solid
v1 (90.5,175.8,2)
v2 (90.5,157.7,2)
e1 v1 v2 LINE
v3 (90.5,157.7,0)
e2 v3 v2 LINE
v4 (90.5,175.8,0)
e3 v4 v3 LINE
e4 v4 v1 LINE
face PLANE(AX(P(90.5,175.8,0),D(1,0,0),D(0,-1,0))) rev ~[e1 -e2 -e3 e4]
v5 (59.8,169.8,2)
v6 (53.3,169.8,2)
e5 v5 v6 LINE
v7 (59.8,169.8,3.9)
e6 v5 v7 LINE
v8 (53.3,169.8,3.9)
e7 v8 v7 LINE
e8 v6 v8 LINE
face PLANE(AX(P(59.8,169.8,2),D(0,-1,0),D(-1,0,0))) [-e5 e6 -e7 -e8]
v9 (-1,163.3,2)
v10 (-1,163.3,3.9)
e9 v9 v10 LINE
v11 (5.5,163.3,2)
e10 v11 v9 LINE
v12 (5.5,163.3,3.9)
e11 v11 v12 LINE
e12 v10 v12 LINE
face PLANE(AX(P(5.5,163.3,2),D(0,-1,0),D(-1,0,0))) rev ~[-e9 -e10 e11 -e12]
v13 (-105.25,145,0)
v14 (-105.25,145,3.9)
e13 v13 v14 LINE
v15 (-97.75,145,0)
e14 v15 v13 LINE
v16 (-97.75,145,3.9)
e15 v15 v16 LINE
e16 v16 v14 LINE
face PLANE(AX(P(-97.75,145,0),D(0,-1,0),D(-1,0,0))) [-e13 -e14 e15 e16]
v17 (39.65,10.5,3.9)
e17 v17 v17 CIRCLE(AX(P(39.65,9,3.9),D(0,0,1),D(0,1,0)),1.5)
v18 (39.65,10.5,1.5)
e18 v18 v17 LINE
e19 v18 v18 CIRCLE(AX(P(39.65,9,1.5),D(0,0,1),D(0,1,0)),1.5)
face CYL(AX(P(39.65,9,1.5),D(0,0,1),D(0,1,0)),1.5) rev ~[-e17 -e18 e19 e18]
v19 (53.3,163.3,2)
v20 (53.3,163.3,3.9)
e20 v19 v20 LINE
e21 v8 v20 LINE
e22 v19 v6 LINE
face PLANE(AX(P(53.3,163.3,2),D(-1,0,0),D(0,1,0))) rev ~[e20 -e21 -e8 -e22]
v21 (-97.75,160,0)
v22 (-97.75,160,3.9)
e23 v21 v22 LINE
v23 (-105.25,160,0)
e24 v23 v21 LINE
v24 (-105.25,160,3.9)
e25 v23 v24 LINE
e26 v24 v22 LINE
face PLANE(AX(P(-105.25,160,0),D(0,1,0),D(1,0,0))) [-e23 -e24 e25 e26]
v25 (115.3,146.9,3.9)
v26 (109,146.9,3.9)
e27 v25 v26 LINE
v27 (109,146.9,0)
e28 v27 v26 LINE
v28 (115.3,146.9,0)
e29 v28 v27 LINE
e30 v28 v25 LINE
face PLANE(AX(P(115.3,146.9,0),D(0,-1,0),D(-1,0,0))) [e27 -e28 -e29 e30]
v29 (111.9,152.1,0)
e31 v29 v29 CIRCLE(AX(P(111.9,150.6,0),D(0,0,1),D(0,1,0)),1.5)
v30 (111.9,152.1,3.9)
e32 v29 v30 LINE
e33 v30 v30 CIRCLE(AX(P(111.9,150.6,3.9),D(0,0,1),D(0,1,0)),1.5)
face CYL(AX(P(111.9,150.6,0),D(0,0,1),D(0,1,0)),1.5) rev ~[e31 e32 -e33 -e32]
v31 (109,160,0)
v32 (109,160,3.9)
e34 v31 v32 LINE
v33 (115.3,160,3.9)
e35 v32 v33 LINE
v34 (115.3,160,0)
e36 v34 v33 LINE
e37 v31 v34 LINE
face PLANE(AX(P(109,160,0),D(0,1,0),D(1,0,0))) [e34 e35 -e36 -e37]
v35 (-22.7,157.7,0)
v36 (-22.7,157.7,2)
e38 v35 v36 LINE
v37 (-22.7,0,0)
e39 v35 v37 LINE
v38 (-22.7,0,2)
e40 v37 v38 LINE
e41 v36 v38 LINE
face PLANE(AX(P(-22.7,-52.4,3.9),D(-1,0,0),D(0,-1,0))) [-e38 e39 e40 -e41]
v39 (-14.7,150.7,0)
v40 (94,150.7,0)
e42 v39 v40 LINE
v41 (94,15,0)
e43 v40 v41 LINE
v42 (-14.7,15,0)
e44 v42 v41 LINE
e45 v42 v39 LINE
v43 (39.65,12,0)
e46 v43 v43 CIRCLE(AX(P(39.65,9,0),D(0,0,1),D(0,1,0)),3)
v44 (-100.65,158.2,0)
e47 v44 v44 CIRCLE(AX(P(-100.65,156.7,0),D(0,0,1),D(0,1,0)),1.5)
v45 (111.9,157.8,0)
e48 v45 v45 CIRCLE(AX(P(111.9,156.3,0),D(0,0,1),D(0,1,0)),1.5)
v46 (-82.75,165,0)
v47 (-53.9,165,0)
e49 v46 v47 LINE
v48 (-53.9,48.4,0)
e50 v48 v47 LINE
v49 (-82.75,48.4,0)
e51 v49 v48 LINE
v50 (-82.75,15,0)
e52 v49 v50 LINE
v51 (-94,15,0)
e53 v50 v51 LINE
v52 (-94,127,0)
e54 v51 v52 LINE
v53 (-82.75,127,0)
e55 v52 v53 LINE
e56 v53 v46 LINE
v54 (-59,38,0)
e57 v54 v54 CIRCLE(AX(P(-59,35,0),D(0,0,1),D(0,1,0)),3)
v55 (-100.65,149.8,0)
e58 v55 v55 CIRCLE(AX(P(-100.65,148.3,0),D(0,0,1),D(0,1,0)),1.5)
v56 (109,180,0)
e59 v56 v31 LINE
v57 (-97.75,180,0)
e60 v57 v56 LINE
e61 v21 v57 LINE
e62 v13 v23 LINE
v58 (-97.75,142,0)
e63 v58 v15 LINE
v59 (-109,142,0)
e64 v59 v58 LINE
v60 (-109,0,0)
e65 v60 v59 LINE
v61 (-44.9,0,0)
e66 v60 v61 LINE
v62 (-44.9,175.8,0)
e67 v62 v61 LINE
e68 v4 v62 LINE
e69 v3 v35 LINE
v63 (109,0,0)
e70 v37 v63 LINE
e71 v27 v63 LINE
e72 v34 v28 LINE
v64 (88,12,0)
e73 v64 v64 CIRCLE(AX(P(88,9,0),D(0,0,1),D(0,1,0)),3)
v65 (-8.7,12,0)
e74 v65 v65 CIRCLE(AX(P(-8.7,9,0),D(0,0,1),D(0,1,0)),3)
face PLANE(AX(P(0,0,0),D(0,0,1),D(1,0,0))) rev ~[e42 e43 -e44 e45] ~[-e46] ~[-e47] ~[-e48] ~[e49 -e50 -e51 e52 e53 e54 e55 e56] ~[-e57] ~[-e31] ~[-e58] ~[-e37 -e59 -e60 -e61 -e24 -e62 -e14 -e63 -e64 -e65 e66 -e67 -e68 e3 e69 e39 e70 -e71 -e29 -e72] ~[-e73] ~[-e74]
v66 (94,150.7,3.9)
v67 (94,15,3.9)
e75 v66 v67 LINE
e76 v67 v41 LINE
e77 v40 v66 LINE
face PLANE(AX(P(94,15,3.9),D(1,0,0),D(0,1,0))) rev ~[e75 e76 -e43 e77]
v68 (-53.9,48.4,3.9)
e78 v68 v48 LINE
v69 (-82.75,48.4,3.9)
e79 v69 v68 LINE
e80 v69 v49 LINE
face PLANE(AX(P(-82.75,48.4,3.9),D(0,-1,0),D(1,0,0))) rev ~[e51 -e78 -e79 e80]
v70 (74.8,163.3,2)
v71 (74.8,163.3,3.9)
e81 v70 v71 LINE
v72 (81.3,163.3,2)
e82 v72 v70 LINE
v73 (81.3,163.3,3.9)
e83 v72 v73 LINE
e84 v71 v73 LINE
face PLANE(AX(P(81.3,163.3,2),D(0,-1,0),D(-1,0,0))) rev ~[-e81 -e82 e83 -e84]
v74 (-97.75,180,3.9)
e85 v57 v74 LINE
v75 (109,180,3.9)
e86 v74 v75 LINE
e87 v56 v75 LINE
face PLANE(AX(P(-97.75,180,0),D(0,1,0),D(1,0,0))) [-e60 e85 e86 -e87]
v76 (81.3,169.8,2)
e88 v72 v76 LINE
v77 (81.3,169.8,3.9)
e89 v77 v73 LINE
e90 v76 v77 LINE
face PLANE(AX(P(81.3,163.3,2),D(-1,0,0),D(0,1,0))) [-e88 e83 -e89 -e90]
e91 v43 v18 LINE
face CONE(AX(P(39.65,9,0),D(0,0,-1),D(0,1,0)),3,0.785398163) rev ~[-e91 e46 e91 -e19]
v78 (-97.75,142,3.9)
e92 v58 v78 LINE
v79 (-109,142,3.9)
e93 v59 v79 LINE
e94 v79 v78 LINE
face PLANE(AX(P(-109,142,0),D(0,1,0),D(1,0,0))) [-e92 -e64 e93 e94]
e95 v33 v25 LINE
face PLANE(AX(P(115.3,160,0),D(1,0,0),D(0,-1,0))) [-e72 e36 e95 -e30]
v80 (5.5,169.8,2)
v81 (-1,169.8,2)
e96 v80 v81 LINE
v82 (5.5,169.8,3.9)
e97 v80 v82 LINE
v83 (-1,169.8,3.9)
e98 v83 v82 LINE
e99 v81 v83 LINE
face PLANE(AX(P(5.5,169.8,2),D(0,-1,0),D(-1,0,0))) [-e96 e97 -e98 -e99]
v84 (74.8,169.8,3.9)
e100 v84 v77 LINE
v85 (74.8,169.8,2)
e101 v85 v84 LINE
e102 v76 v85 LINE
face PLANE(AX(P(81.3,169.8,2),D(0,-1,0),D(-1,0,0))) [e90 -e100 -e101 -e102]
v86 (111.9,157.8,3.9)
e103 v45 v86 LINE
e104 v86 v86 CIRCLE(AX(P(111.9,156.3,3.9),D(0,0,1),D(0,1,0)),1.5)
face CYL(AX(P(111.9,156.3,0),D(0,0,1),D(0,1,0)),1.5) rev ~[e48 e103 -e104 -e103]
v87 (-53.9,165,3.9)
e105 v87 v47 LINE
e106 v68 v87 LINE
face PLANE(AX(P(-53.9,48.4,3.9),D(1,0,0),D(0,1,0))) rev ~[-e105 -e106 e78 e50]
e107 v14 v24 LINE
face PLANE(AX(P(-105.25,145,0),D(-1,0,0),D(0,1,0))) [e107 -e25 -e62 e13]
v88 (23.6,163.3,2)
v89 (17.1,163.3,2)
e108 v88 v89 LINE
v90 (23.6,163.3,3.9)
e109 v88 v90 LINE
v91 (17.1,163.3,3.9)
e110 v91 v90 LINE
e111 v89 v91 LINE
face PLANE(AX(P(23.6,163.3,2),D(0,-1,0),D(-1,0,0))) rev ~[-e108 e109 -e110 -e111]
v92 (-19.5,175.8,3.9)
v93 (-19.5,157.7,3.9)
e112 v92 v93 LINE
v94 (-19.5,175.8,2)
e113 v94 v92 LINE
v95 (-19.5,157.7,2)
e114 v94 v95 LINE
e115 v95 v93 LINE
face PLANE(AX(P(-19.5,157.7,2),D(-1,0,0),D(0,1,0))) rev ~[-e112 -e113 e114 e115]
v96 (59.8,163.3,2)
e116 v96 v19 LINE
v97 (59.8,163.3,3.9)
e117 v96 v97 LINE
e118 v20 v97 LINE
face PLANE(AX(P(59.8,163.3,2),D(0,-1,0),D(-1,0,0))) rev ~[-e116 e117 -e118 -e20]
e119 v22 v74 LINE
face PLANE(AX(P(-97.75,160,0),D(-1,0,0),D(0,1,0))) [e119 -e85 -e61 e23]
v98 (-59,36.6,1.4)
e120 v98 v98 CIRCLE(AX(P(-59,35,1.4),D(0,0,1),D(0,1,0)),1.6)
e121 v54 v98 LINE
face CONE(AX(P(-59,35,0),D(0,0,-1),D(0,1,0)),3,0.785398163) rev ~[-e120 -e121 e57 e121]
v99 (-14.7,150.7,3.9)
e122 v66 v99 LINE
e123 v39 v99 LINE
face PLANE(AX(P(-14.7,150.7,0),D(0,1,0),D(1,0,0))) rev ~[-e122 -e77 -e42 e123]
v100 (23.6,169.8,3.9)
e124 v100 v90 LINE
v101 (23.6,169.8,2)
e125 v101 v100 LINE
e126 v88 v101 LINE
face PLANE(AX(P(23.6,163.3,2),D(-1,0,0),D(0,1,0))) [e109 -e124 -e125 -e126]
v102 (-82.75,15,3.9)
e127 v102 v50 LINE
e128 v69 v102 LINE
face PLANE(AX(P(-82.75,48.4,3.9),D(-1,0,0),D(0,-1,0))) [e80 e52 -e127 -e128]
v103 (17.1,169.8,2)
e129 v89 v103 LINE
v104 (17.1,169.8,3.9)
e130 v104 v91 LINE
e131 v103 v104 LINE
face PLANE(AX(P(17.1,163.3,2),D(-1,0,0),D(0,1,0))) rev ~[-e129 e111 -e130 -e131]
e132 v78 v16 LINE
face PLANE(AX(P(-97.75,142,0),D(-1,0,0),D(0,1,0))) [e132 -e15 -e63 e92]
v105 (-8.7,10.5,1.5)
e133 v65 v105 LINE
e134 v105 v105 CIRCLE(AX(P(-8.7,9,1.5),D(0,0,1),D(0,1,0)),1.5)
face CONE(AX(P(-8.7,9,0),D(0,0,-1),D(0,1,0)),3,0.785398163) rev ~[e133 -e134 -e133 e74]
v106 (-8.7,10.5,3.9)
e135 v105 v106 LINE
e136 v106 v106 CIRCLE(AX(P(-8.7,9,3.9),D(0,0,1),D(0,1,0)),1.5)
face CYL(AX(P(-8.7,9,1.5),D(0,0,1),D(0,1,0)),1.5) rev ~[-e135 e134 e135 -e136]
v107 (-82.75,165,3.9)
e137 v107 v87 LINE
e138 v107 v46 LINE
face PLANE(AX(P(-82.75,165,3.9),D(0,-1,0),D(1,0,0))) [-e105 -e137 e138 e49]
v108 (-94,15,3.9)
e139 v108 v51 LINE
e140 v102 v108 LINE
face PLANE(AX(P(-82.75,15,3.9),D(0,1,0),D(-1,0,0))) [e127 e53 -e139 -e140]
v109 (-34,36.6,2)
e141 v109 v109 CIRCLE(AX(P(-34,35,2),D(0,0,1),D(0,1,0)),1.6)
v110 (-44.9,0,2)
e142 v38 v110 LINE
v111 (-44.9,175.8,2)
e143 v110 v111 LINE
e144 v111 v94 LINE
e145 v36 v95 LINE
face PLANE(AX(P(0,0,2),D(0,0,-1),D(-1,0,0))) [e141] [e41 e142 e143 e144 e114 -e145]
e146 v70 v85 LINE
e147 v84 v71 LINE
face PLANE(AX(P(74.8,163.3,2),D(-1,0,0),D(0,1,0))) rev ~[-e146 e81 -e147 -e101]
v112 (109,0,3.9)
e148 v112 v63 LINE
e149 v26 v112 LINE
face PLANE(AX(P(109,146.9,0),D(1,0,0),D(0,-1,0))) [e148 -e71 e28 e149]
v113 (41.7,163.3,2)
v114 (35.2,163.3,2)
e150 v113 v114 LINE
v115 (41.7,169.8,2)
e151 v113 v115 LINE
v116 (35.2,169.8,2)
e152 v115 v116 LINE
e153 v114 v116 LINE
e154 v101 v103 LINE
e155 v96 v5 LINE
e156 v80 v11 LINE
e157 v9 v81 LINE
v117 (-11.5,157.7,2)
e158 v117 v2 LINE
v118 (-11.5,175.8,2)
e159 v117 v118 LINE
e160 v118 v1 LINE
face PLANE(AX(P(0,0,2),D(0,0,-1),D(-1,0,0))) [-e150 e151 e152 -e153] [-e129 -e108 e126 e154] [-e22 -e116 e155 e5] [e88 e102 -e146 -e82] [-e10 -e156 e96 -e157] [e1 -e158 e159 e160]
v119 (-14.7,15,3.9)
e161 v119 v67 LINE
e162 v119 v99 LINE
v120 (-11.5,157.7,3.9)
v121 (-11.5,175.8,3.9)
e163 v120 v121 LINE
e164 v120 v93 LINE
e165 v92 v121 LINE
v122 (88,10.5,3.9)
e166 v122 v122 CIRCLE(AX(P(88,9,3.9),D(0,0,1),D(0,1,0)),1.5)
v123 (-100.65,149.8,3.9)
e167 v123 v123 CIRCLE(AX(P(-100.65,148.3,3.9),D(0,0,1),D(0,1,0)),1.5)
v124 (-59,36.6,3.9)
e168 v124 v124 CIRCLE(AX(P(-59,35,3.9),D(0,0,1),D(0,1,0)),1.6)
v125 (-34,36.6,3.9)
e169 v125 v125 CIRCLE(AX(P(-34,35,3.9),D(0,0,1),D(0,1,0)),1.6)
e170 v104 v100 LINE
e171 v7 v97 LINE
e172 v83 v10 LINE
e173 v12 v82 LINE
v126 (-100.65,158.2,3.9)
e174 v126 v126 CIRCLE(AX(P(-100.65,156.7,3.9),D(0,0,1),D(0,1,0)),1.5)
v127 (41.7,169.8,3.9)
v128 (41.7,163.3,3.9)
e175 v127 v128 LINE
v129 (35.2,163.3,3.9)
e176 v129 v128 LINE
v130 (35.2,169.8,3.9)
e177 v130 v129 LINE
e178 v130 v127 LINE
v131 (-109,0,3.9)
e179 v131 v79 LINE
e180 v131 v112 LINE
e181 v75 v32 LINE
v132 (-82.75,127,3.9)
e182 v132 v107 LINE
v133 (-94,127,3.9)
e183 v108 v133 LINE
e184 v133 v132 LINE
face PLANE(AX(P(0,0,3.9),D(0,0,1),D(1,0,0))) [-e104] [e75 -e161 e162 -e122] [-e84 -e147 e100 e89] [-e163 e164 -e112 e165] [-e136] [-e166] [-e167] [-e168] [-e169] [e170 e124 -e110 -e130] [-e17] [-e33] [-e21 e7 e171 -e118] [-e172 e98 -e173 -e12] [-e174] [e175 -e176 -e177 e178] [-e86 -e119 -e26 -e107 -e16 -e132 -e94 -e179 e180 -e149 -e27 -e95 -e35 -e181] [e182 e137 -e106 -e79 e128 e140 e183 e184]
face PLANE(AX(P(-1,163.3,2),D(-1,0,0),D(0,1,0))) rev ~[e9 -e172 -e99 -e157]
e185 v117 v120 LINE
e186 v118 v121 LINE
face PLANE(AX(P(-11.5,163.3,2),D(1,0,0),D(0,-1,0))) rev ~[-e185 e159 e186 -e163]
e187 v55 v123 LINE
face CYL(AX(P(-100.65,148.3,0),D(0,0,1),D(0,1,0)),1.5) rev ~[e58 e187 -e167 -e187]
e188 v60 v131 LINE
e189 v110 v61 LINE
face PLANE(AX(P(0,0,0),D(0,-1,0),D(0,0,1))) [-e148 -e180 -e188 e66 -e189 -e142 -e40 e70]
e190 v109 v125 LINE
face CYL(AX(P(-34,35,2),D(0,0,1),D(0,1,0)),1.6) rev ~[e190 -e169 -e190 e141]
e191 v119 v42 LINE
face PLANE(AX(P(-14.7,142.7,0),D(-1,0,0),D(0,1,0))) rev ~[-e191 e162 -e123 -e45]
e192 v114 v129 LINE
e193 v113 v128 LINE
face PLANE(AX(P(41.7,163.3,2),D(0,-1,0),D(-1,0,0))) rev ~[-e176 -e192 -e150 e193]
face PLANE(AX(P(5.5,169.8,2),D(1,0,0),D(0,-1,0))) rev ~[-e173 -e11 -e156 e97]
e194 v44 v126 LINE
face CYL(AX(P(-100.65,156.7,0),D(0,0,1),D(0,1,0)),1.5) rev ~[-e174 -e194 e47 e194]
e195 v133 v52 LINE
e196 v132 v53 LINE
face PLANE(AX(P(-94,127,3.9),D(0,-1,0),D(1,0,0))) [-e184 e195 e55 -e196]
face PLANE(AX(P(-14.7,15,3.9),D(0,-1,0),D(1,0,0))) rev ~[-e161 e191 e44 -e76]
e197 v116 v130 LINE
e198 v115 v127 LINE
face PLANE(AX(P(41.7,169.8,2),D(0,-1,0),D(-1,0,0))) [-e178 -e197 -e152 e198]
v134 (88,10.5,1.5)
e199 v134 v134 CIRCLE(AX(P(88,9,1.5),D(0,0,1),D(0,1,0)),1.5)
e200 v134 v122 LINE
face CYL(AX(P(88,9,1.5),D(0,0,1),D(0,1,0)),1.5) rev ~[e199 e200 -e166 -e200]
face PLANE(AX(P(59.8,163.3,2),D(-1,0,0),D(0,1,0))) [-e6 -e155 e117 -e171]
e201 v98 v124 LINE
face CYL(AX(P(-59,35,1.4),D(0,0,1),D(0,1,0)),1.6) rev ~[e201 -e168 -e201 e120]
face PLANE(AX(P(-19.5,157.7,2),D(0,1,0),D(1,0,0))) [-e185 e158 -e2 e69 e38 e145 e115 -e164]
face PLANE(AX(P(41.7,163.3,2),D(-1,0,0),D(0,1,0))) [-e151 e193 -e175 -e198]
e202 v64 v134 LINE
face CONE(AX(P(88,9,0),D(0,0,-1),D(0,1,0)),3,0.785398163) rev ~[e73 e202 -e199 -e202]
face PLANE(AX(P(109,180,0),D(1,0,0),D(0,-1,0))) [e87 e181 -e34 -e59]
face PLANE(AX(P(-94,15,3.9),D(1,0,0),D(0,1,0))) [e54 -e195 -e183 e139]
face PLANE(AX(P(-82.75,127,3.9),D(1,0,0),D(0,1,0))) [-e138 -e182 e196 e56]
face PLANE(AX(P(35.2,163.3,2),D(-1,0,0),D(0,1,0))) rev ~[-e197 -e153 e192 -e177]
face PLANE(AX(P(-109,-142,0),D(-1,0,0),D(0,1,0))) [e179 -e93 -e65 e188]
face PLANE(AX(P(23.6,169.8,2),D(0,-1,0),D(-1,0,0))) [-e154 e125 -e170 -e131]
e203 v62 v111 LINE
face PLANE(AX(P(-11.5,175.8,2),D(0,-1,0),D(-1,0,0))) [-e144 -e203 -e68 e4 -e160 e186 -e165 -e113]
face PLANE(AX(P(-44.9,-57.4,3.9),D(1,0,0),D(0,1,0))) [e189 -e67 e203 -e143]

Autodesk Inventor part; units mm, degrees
ref_plane "YZ Plane" through (0, 0, 0) normal (1, 0, 0) x (0, 1, 0)
ref_plane "XZ Plane" through (0, 0, 0) normal (0, 1, 0) x (-1, 0, 0)
ref_plane "XY Plane" through (0, 0, 0) normal (0, 0, 1) x (1, 0, 0)
ref_plane "Plano de trabajo1" through (0, 0, 0) normal (0, 0, 1) x (1, 0, 0)
sketch "Boceto1" plane through (0, 0, 0) normal (0, 0, 1) x (1, 0, 0)
  circle A0 centre (-100.65, -156.7) radius 1.65
  circle A1 centre (-100.65, -148.3) radius 1.65
  circle A2 centre (-100.65, 156.7) radius 1.65
  circle A3 centre (-100.65, 148.3) radius 1.65
  line L0 (-97.75, 145) -> (-105.25, 145)
  line L1 (-97.75, 142) -> (-97.75, 145)
  line L2 (-109, 142) -> (-97.75, 142)
  line L3 (-109, -142) -> (-109, 142)
  line L4 (-97.75, -142) -> (-109, -142)
  line L5 (-97.75, -145) -> (-97.75, -142)
  line L6 (-105.25, -145) -> (-97.75, -145)
  line L7 (-105.25, -160) -> (-105.25, -145)
  line L8 (-97.75, -160) -> (-105.25, -160)
  line L9 (-97.75, -180) -> (-97.75, -160)
  line L10 (109, -180) -> (-97.75, -180)
  line L11 (115.3, -160) -> (109, -160)
  line L12 (109, 146.9) -> (109, -146.9)
  line L13 (109, -146.9) -> (115.3, -146.9)
  line L14 (115.3, 146.9) -> (109, 146.9)
  line L15 (109, 180) -> (109, 160)
  line L16 (109, 160) -> (115.3, 160)
  line L17 (-97.75, 180) -> (109, 180)
  line L18 (-97.75, 160) -> (-97.75, 180)
  line L19 (-105.25, 160) -> (-97.75, 160)
  line L20 (-105.25, 145) -> (-105.25, 160)
  circle A4 centre (111.9, -156.3) radius 1.2
  circle A5 centre (111.9, -150.6) radius 1.2
  circle A6 centre (111.9, 156.3) radius 1.2
  circle A7 centre (111.9, 150.6) radius 1.2
  line L21 (115.3, -146.9) -> (115.3, -160)
  line L22 (115.3, 160) -> (115.3, 146.9)
  line L23 (109, -160) -> (109, -180)
  point P0 (0, 0)
extrude "Extrusión1" add sketch "Boceto1" along normal blind 3.9 contours A0 | A1 | A2 | A3 | L0 L20 L19 L18 L17 L15 L16 L22 L14 L12 L13 L21 L11 L23 L10 L9 L8 L7 L6 L5 L4 L3 L2 L1 | A4 | A5 | A6 | A7
sketch "Boceto3" plane through (0, 0, 0) normal (0, 0, -1) x (-1, 0, 0)
  line L0 (111, 180) -> (111, -185.2)
  line L1 (90.8, 170.8) -> (90.8, -176)
  line L2 (-99.7, -176) -> (-99.7, 170.8)
  line L3 (-117.3, 180) -> (-117.3, -185.2)
  line L4 (90.8, 170.8) -> (90.8, -176)
  line L5 (90.8, -176) -> (-99.7, -176)
  line L6 (-99.7, -176) -> (-99.7, 170.8)
  line L7 (-117.3, 180) -> (-117.3, -185.2)
  line L8 (109, -187.2) -> (-115.3, -187.2)
  line L9 (111, 180) -> (111, -185.2)
  circle A0 centre (-111.9, -150.6) radius 2.5
  circle A1 centre (100.65, -148.3) radius 2.5
  circle A2 centre (100.65, -156.7) radius 2.5
  circle A3 centre (-111.9, -156.3) radius 2.5
  arc A4 (-117.3, -185.2) -> (-115.3, -187.2) centre (-115.3, -185.2) ccw
  line L10 (109, -187.2) -> (-115.3, -187.2)
  arc A5 (109, -187.2) -> (111, -185.2) centre (109, -185.2) ccw
  circle A6 centre (-111.9, -150.6) radius 2.5
  circle A7 centre (-111.9, -156.3) radius 2.5
  arc A8 (-117.3, -185.2) -> (-115.3, -187.2) centre (-115.3, -185.2) ccw
  arc A9 (109, -187.2) -> (111, -185.2) centre (109, -185.2) ccw
  circle A10 centre (-111.9, 150.6) radius 2.5
  circle A11 centre (100.65, -156.7) radius 2.5
  circle A12 centre (100.65, 148.3) radius 2.5
  circle A13 centre (100.65, 156.7) radius 2.5
  circle A14 centre (100.65, -148.3) radius 2.5
  circle A15 centre (-111.9, 156.3) radius 2.5
  arc A16 (111, 180) -> (109, 182) centre (109, 180) ccw
  line L11 (109, 182) -> (-115.3, 182)
  arc A17 (-115.3, 182) -> (-117.3, 180) centre (-115.3, 180) ccw
  line L12 (-99.7, 170.8) -> (90.8, 170.8)
  line L13 (90.8, -176) -> (-99.7, -176)
  circle A18 centre (-111.9, 150.6) radius 2.5
  circle A19 centre (100.65, 148.3) radius 2.5
  circle A20 centre (100.65, 156.7) radius 2.5
  circle A21 centre (-111.9, 156.3) radius 2.5
  arc A22 (111, 180) -> (109, 182) centre (109, 180) ccw
  line L14 (109, 182) -> (-115.3, 182)
  arc A23 (-115.3, 182) -> (-117.3, 180) centre (-115.3, 180) ccw
  line L15 (-99.7, 170.8) -> (90.8, 170.8)
  point P0 (0, 0)
  point P1 (111, 0)
  point P2 (90.8, 0)
  point P3 (-99.7, 0)
  point P4 (-117.3, 0)
hole "Agujero1" at (-100.65, -148.3, 0) at (-100.65, -156.7, 0) at (111.9, -156.3, 0) at (111.9, -150.6, 0) at (-100.65, 156.7, 0) at (-100.65, 148.3, 0) at (111.9, 150.6, 0) at (111.9, 156.3, 0) direction (0, 0, 1) diameter 3 end through all
sketch "Boceto4" plane through (0, 0, 3.9) normal (0, 0, 1) x (1, 0, 0)
  line L0 (-59, -109.6) -> (-59, -139.7)
  line L1 (-59, -139.7) -> (-49.6, -139.7)
  line L2 (-49.6, -109.6) -> (-59, -109.6)
  line L3 (-59, -62.4) -> (-59, -169.5)
  line L4 (-3.9, -169.5) -> (-3.9, -62.4)
  line L5 (-3.9, -62.4) -> (-59, -62.4)
  line L6 (-59, -169.5) -> (-3.9, -169.5)
  line L7 (-49.6, -139.7) -> (-49.6, -109.6)
  point P0 (0, 0)
  point P1 (-3.9, -139.7)
  point P2 (-3.9, -109.6)
extrude "Extrusión2" cut sketch "Boceto4" against normal through all
sketch "Boceto5" plane through (0, 0, 3.9) normal (0, 0, 1) x (1, 0, 0)
  line L0 (-59, -62.4) -> (-3.9, -62.4)
  line L1 (-3.9, -62.4) -> (-3.9, -87.4)
  line L2 (-3.9, -109.6) -> (-3.9, -139.7)
  line L3 (-3.9, -87.4) -> (1.1, -87.4)
  line L4 (-3.9, -87.4) -> (1.1, -87.4) construction
  line L5 (1.1, -87.4) -> (1.1, -107.4)
  line L6 (1.1, -107.4) -> (-3.9, -107.4)
  line L7 (-3.9, -87.4) -> (-3.9, -107.4)
  point P0 (0, 0)
  point P1 (-3.9, -169.5)
  dimension "d11" = 25
  dimension "d12" = 5
  dimension "d13" = 0
  dimension "d14" = 20
extrude "Extrusión3" cut sketch "Boceto5" against normal blind 4
sketch "Boceto6" plane through (0, 0, 0) normal (0, 0, -1) x (-1, 0, 0)
  line L0 (-1.1, -87.4) -> (-1.1, -107.4)
  line L1 (-1.1, -87.4) -> (-61.1, -87.4)
  line L2 (-61.1, -87.4) -> (-61.1, -107.4)
  line L3 (-61.1, -107.4) -> (-1.1, -107.4)
  line L4 (-1.1, -107.4) -> (-1.1, -87.4)
  point P0 (0, 0)
  dimension "d17" = 60
extrude "Extrusión4" cut sketch "Boceto6" against normal blind 1
sketch "Boceto7" plane through (0, 0, 0) normal (0, 0, -1) x (-1, 0, 0)
  line L0 (3.9, -109.6) -> (3.9, -139.7)
  line L1 (109, 142) -> (109, -142)
  line L2 (3.9, -87.4) -> (109, -87.4)
  line L3 (109, -87.4) -> (109, -107.4)
  line L4 (109, -107.4) -> (3.9, -107.4)
  line L5 (3.9, -107.4) -> (3.9, -87.4)
  point P0 (0, 0)
  point P1 (3.9, -107.4)
  point P2 (3.9, -107.4)
  dimension "d20" = 20
extrude "Extrusión5" cut sketch "Boceto7" against normal blind 1
sketch "Boceto8" plane through (0, 0, 3.9) normal (0, 0, 1) x (1, 0, 0)
  line L0 (109, 180) -> (-97.75, 180)
  line L1 (0, 180) -> (0, -258.0429)
  line L2 (102.7, -146.9) -> (102.7, 146.9)
  line L3 (-109, 142) -> (-109, -142)
  line L4 (-109, 0) -> (102.7, 0)
  line L5 (-3.9, -87.4) -> (-3.9, -62.4)
  line L6 (-3.9, -62.4) -> (-59.3756, -62.4)
  line L7 (-59.3756, -62.4) -> (-59.3756, -169.7804)
  line L8 (-59.3756, -169.7804) -> (-3.9, -169.7804)
  line L9 (-3.9, -169.7804) -> (-3.9, -62.4)
  line L10 (-64.3756, -57.4) -> (1.1, -57.4)
  line L11 (1.1, -57.4) -> (1.1, -174.7804)
  line L12 (1.1, -174.7804) -> (-64.3756, -174.7804)
  line L13 (-64.3756, -174.7804) -> (-64.3756, -57.4)
  point P0 (0, 0)
  point P1 (102.7, 180)
  point P2 (0, -174.7804)
  point P3 (0, -57.4)
  dimension "d23" = 5
extrude "Extrusión6" add sketch "Boceto8" along normal blind 16 contours L1 L12 L13 L10
sketch "Boceto9" plane through (-59.3756, -169.7804, 3.9) normal (1, 0, 0) x (0, 0, -1)
  line L0 (-0.9, 89.3804) -> (-0.9, 107.3804)
  line L1 (2.4, 107.3804) -> (-0.9, 107.3804)
  line L2 (2.4, 107.3804) -> (2.4, 0.2804)
  line L3 (2.4, 0.2804) -> (-0.9, 0.2804)
  line L4 (-0.9, 0.2804) -> (-0.9, 6.4804)
  line L5 (-0.9, 6.4804) -> (-12.4, 6.4804)
  line L6 (-12.4, 6.4804) -> (-12.4, 15.4804)
  line L7 (-12.4, 15.4804) -> (-0.9, 15.4804)
  line L8 (-0.9, 15.4804) -> (-0.9, 20.2804)
  line L9 (-0.9, 20.2804) -> (-10.2, 20.2804)
  line L10 (-10.2, 20.2804) -> (-10.2, 27.4804)
  line L11 (-10.2, 27.4804) -> (-0.9, 27.4804)
  line L12 (-0.9, 27.4804) -> (-0.9, 30.0804)
  line L13 (-0.9, 30.0804) -> (-13.95, 30.0804)
  line L14 (-13.95, 60.1804) -> (-13.95, 30.0804)
  line L15 (-13.95, 60.1804) -> (-0.9, 60.1804)
  line L16 (-0.9, 60.1804) -> (-0.9, 73.3804)
  line L17 (-0.9, 73.3804) -> (-7.6, 73.3804)
  line L18 (-7.6, 73.3804) -> (-7.6, 89.3804)
  line L19 (-7.6, 89.3804) -> (-0.9, 89.3804)
  line L20 (0, 107.3804) -> (0, 0)
  line L21 (0, 107.3804) -> (-16, 107.3804)
  line L22 (-16, 0) -> (-16, 107.3804)
  line L23 (0, 0) -> (-16, 0)
  line L24 (-0.9, 89.3804) -> (-0.9, 73.3804)
  line L25 (-0.9, 73.3804) -> (-0.9, 6.4804)
  point P0 (3.9, 169.7804)
  point P1 (-0.9, 15.4804)
  point P2 (-0.9, 20.2804)
  point P3 (-0.9, 27.4804)
  point P4 (-0.9, 30.0804)
  point P5 (-0.9, 60.1804)
extrude "Extrusión7" cut sketch "Boceto9" against normal blind 15 contours L24 L17 L18 L19 | L25 L13 L14 L15 | L25 L9 L10 L11 | L5 L6 L7 L25
sketch "Boceto10" plane through (-59.3756, -169.7804, 3.9) normal (1, 0, 0) x (0, 0, -1)
  line L0 (-16, 0) -> (-16, 107.3804)
  line L1 (0, 107.3804) -> (-16, 107.3804)
  line L2 (-16, 0) -> (-13.95, 0)
  line L3 (-13.95, 0) -> (-13.95, 107.3804)
  line L4 (-13.95, 107.3804) -> (-16, 107.3804)
  line L5 (-16, 107.3804) -> (-16, 0)
  point P0 (3.9, 169.7804)
  dimension "d28" = 2.05
extrude "Extrusión8" add sketch "Boceto10" along normal up to surface (55.4756 mm away)
sketch "Boceto11" plane through (-59.3756, -109.6, 17.85) normal (0, 0, -1) x (-1, 0, 0)
  line L0 (-14.4756, 41.2) -> (-36.6756, 41.2)
  line L1 (-36.6756, 41.2) -> (-36.6756, 47.2)
  line L2 (-14.4756, 47.2) -> (-14.4756, 41.2)
  line L3 (-14.4756, 47.2) -> (-36.6756, 47.2)
  line L4 (-0.3756, 29.2) -> (-12.3756, 29.2)
  line L5 (-12.3756, 13.2) -> (-12.3756, 29.2)
  line L6 (-0.3756, 13.2) -> (-12.3756, 13.2)
  line L7 (-0.3756, 13.2) -> (-0.3756, 29.2)
  line L8 (-0.3756, -44.7) -> (-15.3756, -44.7)
  line L9 (-0.3756, -53.7) -> (-15.3756, -53.7)
  line L10 (-15.3756, -53.7) -> (-15.3756, -44.7)
  line L11 (-0.3756, -39.9) -> (-26.3756, -39.9)
  line L12 (-0.3756, -32.7) -> (-26.3756, -32.7)
  line L13 (-26.3756, -39.9) -> (-26.3756, -32.7)
  line L14 (-9.7756, 0) -> (-9.7756, -30.1)
  line L15 (-9.7756, 0) -> (-0.3756, 0)
  line L16 (-0.3756, -32.7) -> (-26.3756, -32.7)
  line L17 (-0.3756, -32.7) -> (-26.3756, -32.7)
  line L18 (-0.3756, -30.1) -> (-9.7756, -30.1)
  arc A0 (-48.2506, 42.8) -> (-49.9006, 41.15) centre (-49.9006, 42.8) ccw
  circle A1 centre (-5.9506, 42.8) radius 1.65
  circle A2 centre (-49.9006, -55.5) radius 1.65
  circle A3 centre (-5.9506, -55.5) radius 1.65
  line L19 (-55.4756, -60.1804) -> (-55.4756, 47.2)
  line L20 (-55.4756, 47.2) -> (-45.4756, 47.2)
  line L21 (-45.4756, 47.2) -> (-45.4756, 37.2)
  line L22 (-45.4756, 37.2) -> (-55.4756, 37.2)
  line L23 (-55.4756, 37.2) -> (-55.4756, 47.2)
  line L24 (-0.3756, 47.2) -> (-10.3756, 47.2)
  line L25 (-10.3756, 47.2) -> (-10.3756, 37.2)
  line L26 (-10.3756, 37.2) -> (-0.3756, 37.2)
  line L27 (-0.3756, 37.2) -> (-0.3756, 47.2)
  line L28 (0, -60.1804) -> (-55.4756, -60.1804)
  line L29 (-55.4756, -60.1804) -> (-45.4756, -60.1804)
  line L30 (-55.4756, -50.1804) -> (-55.4756, -60.1804)
  line L31 (-0.3756, -59.9) -> (-0.3756, 47.2)
  line L32 (-0.3756, -59.9) -> (-10.3756, -59.9)
  line L33 (-10.3756, -59.9) -> (-10.3756, -53.8)
  line L34 (-10.3756, -53.8) -> (-0.3756, -53.8)
  line L35 (-0.3756, -53.8) -> (-0.3756, -59.9)
  line L36 (-55.4756, -59.9) -> (-0.3756, -59.9)
  line L37 (-55.4756, -59.9) -> (-45.4756, -59.9)
  line L38 (-45.4756, -59.9) -> (-45.4756, -49.9)
  line L39 (-45.4756, -49.9) -> (-55.4756, -49.9)
  line L40 (-55.4756, -49.9) -> (-55.4756, -59.9)
  circle A4 centre (-49.9006, 42.8) radius 1.65
  point P0 (-59.3756, 109.6)
  point P1 (-0.3756, -53.8)
  dimension "d31" = 10
  dimension "d32" = 10
  dimension "d33" = 10
  dimension "d34" = 10
  dimension "d37" = 6.1
  dimension "d38" = 10
  dimension "d39" = 10
extrude "Extrusión9" add sketch "Boceto11" along normal blind 12.5 contours L19 L20 L21 L22 | L36 L19 L39 L38 | L31 L32 L33 L34 | L26 L25 L24 L27
sketch "Boceto12" plane through (-64.3756, -57.4, 3.9) normal (0, 1, 0) x (1, 0, 0)
  line L0 (41.6756, -0.9) -> (60.4756, -0.9)
  line L1 (60.4756, 2.4) -> (60.4756, -0.9)
  line L2 (60.4756, 2.4) -> (5.3756, 2.4)
  line L3 (5.3756, 2.4) -> (5.3756, -0.9)
  line L4 (5.3756, -0.9) -> (19.4756, -0.9)
  line L5 (19.4756, -0.9) -> (19.4756, -9.5)
  line L6 (19.4756, -9.5) -> (41.6756, -9.5)
  line L7 (41.6756, -9.5) -> (41.6756, -0.9)
  line L8 (19.4756, -0.9) -> (42.0812, -0.9)
  point P0 (64.3756, 3.9)
extrude "Extrusión10" cut sketch "Boceto12" against normal blind 12.5 contours L7 L6 L5 L8
sketch "Boceto13" plane through (0, 0, 3.9) normal (0, 0, 1) x (1, 0, 0)
  line L0 (-44.9, -57.4) -> (-22.7, -57.4)
  line L1 (-22.7, -57.4) -> (-44.9, -57.4)
  line L2 (-44.9, -57.4) -> (-44.9, -52.4)
  line L3 (-44.9, -52.4) -> (-22.7, -52.4)
  line L4 (-22.7, -52.4) -> (-22.7, -57.4)
  point P0 (0, 0)
  dimension "d44" = 5
extrude "Extrusión11" cut sketch "Boceto13" against normal blind 12.5
sketch "Boceto15" plane through (0, 0, 0) normal (0, 0, -1) x (-1, 0, 0)
  line L0 (22.7, 175.8) -> (22.7, -52.4)
  line L1 (44.9, -52.4) -> (44.9, 175.8)
  line L2 (44.9, 175.8) -> (22.7, 175.8)
  line L3 (18.5, 175.8) -> (44.9, 175.8)
  line L4 (-102.7, 175.8) -> (97.75, 175.8)
  line L5 (44.9, 157.7) -> (18.5, 157.7)
  line L6 (18.5, 157.7) -> (-90.5, 157.7)
  line L7 (-90.5, 180) -> (-90.5, 130)
  circle A0 centre (100.65, -156.7) radius 1.65
  circle A1 centre (100.65, -148.3) radius 1.65
  circle A2 centre (100.65, 156.7) radius 1.65
  circle A3 centre (100.65, 148.3) radius 1.65
  line L8 (97.75, 145) -> (105.25, 145)
  line L9 (105.25, 145) -> (105.25, 160)
  line L10 (105.25, 160) -> (97.75, 160)
  line L11 (97.75, 160) -> (97.75, 180)
  line L12 (97.75, 180) -> (-109, 180)
  line L13 (-109, 160) -> (-115.3, 160)
  line L14 (-109, -160) -> (-109, -180)
  line L15 (-115.3, 146.9) -> (-109, 146.9)
  line L16 (-109, -146.9) -> (-115.3, -146.9)
  line L17 (-109, 180) -> (-109, 160)
  line L18 (-115.3, -160) -> (-109, -160)
  line L19 (-109, -180) -> (97.75, -180)
  line L20 (97.75, -180) -> (97.75, -160)
  line L21 (97.75, -160) -> (105.25, -160)
  line L22 (105.25, -160) -> (105.25, -145)
  line L23 (105.25, -145) -> (97.75, -145)
  line L24 (97.75, -145) -> (97.75, -142)
  line L25 (97.75, -142) -> (109, -142)
  line L26 (109, -142) -> (109, 142)
  line L27 (109, 142) -> (97.75, 142)
  line L28 (97.75, 142) -> (97.75, 145)
  circle A4 centre (100.65, -156.7) radius 1.65
  circle A5 centre (100.65, -148.3) radius 1.65
  circle A6 centre (100.65, 156.7) radius 1.65
  circle A7 centre (100.65, 148.3) radius 1.65
  line L29 (97.75, 145) -> (105.25, 145)
  line L30 (105.25, 145) -> (105.25, 160)
  line L31 (105.25, 160) -> (97.75, 160)
  line L32 (97.75, 160) -> (97.75, 180)
  line L33 (97.75, 180) -> (-109, 180)
  line L34 (-109, 160) -> (-115.3, 160)
  line L35 (-109, -160) -> (-109, -180)
  line L36 (-115.3, 146.9) -> (-109, 146.9)
  line L37 (-109, -146.9) -> (-115.3, -146.9)
  line L38 (-109, 180) -> (-109, 160)
  line L39 (-115.3, -160) -> (-109, -160)
  line L40 (-109, -180) -> (97.75, -180)
  line L41 (97.75, -180) -> (97.75, -160)
  line L42 (97.75, -160) -> (105.25, -160)
  line L43 (105.25, -160) -> (105.25, -145)
  line L44 (105.25, -145) -> (97.75, -145)
  line L45 (97.75, -145) -> (97.75, -142)
  line L46 (97.75, -142) -> (109, -142)
  line L47 (109, -142) -> (109, 142)
  line L48 (109, 142) -> (97.75, 142)
  line L49 (97.75, 142) -> (97.75, 145)
  line L50 (44.9, -52.4) -> (44.9, -57.4)
  line L51 (22.7, -52.4) -> (44.9, -52.4)
  circle A8 centre (-111.9, -156.3) radius 1.2
  circle A9 centre (-111.9, -150.6) radius 1.2
  circle A10 centre (-111.9, 156.3) radius 1.2
  circle A11 centre (-111.9, 150.6) radius 1.2
  line L52 (-115.3, 160) -> (-115.3, 146.9)
  line L53 (-109, 146.9) -> (-109, -146.9)
  line L54 (-115.3, -146.9) -> (-115.3, -160)
  circle A12 centre (-111.9, -156.3) radius 1.2
  circle A13 centre (-111.9, -150.6) radius 1.2
  circle A14 centre (-111.9, 156.3) radius 1.2
  circle A15 centre (-111.9, 150.6) radius 1.2
  line L55 (-115.3, 160) -> (-115.3, 146.9)
  line L56 (-109, 146.9) -> (-109, -146.9)
  line L57 (-115.3, -146.9) -> (-115.3, -160)
  point P0 (0, 0)
  point P1 (-102.7, 180)
  point P2 (-102.7, 160)
  point P3 (-102.7, 146.9)
  point P4 (-102.7, -146.9)
  point P5 (-102.7, -160)
  point P6 (-102.7, -180)
  point P7 (-90.5, 175.8)
  point P8 (22.7, 157.7)
extrude "Extrusión13" cut sketch "Boceto15" against normal blind 2 contours L2 L1 L5 L0 | L0 L5 L6 L7 L4 L3 | L5 L1 L51 L0
sketch "Boceto16" plane through (0, 0, 2) normal (0, 0, -1) x (-1, 0, 0)
  line L0 (22.7, 157.7) -> (-90.5, 157.7)
  line L1 (-90.5, 157.7) -> (-81.3, 157.7)
  line L2 (-90.5, 157.7) -> (-81.3, 157.7) construction
  line L3 (-81.3, 157.7) -> (-81.3, 175.8645)
  line L4 (-90.5, 175.8) -> (44.9, 175.8)
  line L5 (-90.5, 175.8) -> (-90.5, 169.8)
  line L6 (-90.5, 157.7) -> (-90.5, 175.8)
  line L7 (-90.5, 169.8) -> (44.9, 169.8)
  line L8 (44.9, 175.8) -> (44.9, -52.4)
  line L9 (22.7, 157.7) -> (-90.5, 157.7)
  line L10 (-90.5, 157.7) -> (-90.5, 163.3)
  line L11 (-90.5, 163.3) -> (44.9, 163.3)
  line L12 (-81.3, 163.3) -> (-74.8, 163.3)
  line L13 (-74.8, 163.3) -> (-74.8, 169.8)
  line L14 (-74.8, 169.8) -> (-81.3, 169.8)
  line L15 (-81.3, 169.8) -> (-81.3, 163.3)
  line L16 (-90.5, 163.3) -> (-59.8, 163.3)
  line L17 (-59.8, 163.3) -> (-59.8, 169.8)
  line L18 (-59.8, 163.3) -> (-53.3, 163.3)
  line L19 (-53.3, 163.3) -> (-53.3, 169.8)
  line L20 (-53.3, 169.8) -> (-59.8, 169.8)
  line L21 (-59.8, 169.8) -> (-59.8, 163.3)
  line L22 (-90.5, 163.3) -> (-41.7, 163.3)
  line L23 (-41.7, 163.3) -> (-41.7, 169.8)
  line L24 (-41.7, 163.3) -> (-35.2, 163.3)
  line L25 (-35.2, 163.3) -> (-35.2, 169.8)
  line L26 (-35.2, 169.8) -> (-41.7, 169.8)
  line L27 (-41.7, 169.8) -> (-41.7, 163.3)
  line L28 (-90.5, 163.3) -> (-23.6, 163.3)
  line L29 (-90.5, 163.3) -> (-23.6, 163.3) construction
  line L30 (-23.6, 163.3) -> (-23.6, 169.8)
  line L31 (-23.6, 163.3) -> (-17.1, 163.3)
  line L32 (-17.1, 163.3) -> (-17.1, 169.8)
  line L33 (-17.1, 169.8) -> (-23.6, 169.8)
  line L34 (-23.6, 169.8) -> (-23.6, 163.3)
  line L35 (-90.5, 163.3) -> (-5.5, 163.3)
  line L36 (-90.5, 163.3) -> (-5.5, 163.3) construction
  line L37 (-5.5, 163.3) -> (1, 163.3)
  line L38 (1, 163.3) -> (1, 169.8)
  line L39 (1, 169.8) -> (-5.5, 169.8)
  line L40 (-5.5, 169.8) -> (-5.5, 163.3)
  line L41 (-90.5, 175.8) -> (44.9, 175.8)
  line L42 (-90.5, 175.8) -> (11.5, 175.8)
  line L43 (-90.5, 175.8) -> (11.5, 175.8) construction
  line L44 (11.5, 175.8) -> (11.5, 157.7)
  line L45 (11.5, 157.7) -> (19.5, 157.7)
  line L46 (19.5, 157.7) -> (19.5, 175.8)
  line L47 (19.5, 175.8) -> (11.5, 175.8)
  line L48 (11.5, 175.8) -> (11.5, 157.7)
  point P0 (0, 0)
  dimension "d58" = 9.2
  dimension "d59" = 0
  dimension "d60" = 6
  dimension "d61" = 5.6
  dimension "d62" = 6.5
  dimension "d63" = 30.7
  dimension "d64" = 6.5
  dimension "d65" = 6.5
  dimension "d66" = 48.8
  dimension "d67" = 6.5
  dimension "d68" = 6.5
  dimension "d69" = 66.9
  dimension "d70" = 0
  dimension "d71" = 90
  dimension "d72" = 6.5
  dimension "d73" = 6.5
  dimension "d74" = 85
  dimension "d75" = 0
  dimension "d76" = 6.5
  dimension "d77" = 6.5
  dimension "d80" = 102
  dimension "d81" = 0
  dimension "d82" = 8
extrude "Extrusión14" cut sketch "Boceto16" against normal through all contours L0 L44 L11 L46 | L11 L44 L7 L46 | L7 L44 L4 L46 | L3 L7 L13 L11 | L11 L40 L7 L38 | L17 L7 L19 L11 | L11 L30 L7 L32 | L23 L7 L25 L11
fillet "Empalme1" radius 5 5 edges at (0, -116.0902, 19.9) (-32.1878, -57.4, 19.9) (0, -57.4, 11.9) (-32.1878, -174.7804, 19.9) (0, -174.7804, 11.9)
sketch "Boceto17" plane through (-59.3756, -109.6, 17.85) normal (0, 0, -1) x (-1, 0, 0)
  line L0 (-0.3756, -32.7) -> (-26.3756, -32.7)
  line L1 (-26.3756, -39.9) -> (-26.3756, -32.7)
  line L2 (-0.3756, -39.9) -> (-26.3756, -39.9)
  line L3 (-26.3756, -32.7) -> (-15.3756, -32.7)
  line L4 (-15.3756, -32.7) -> (-15.3756, -39.9)
  line L5 (-15.3756, -39.9) -> (-26.3756, -39.9)
  line L6 (-26.3756, -39.9) -> (-26.3756, -32.7)
  point P0 (-59.3756, 109.6)
  point P1 (-15.3756, -32.7)
  dimension "d84" = 11
extrude "Extrusión15" cut sketch "Boceto17" against normal blind 16
ref_plane "Plano de trabajo2" through (-97.75, 0, 0) normal (0, -1, 0) x (1, 0, 0)
fillet "Empalme3" radius 5 4 edges at (-13.9, -72.4, 11.6) (-49, -72.4, 11.6) (-13.9, -159.5, 11.6) (-49, -163.4, 11.6)
sketch "Boceto22" plane through (0, 0, 0) normal (0, 0, -1) x (-1, 0, 0)
  circle A0 centre (59, -35) radius 1.5
  circle A1 centre (59, 35) radius 1.5
  circle A2 centre (34, -35) radius 1.5
  circle A3 centre (34, 35) radius 1.5
  arc A4 (29, -35) -> (34, -40) centre (34, -35) ccw
  line L0 (29, -35) -> (29, 35)
  arc A5 (34, 40) -> (29, 35) centre (34, 35) ccw
  line L1 (34, 40) -> (59, 40)
  arc A6 (64, 35) -> (59, 40) centre (59, 35) ccw
  line L2 (64, 35) -> (64, -35)
  arc A7 (59, -40) -> (64, -35) centre (59, -35) ccw
  line L3 (59, -40) -> (34, -40)
  arc A8 (55.6519, 33) -> (59, 31.1) centre (59, 35) ccw
  line L4 (37.3481, 33) -> (55.6519, 33)
  arc A9 (34, 31.1) -> (37.3481, 33) centre (34, 35) ccw
  line L5 (34, 31.1) -> (34, 22)
  line L6 (59, 22) -> (34, 22)
  line L7 (59, 22) -> (59, 31.1)
  line L8 (59, -31.1) -> (59, -22)
  line L9 (34, -22) -> (59, -22)
  line L10 (34, -22) -> (34, -31.1)
  arc A10 (37.3481, -33) -> (34, -31.1) centre (34, -35) ccw
  line L11 (55.6519, -33) -> (37.3481, -33)
  arc A11 (59, -31.1) -> (55.6519, -33) centre (59, -35) ccw
  point P0 (0, 0)
hole "Agujero5" at (-59, 35, 0) at (-59, -35, 0) direction (0, 0, 1) diameter 3.2 end through all countersink diameter 6 countersink angle 90
sketch "Boceto24" plane through (0, 0, 2) normal (0, 0, -1) x (-1, 0, 0)
  circle A0 centre (59, -35) radius 1.5
  circle A1 centre (59, 35) radius 1.5
  circle A2 centre (34, -35) radius 1.5
  circle A3 centre (34, 35) radius 1.5
  arc A4 (29, -35) -> (34, -40) centre (34, -35) ccw
  line L0 (29, -35) -> (29, 35)
  arc A5 (34, 40) -> (29, 35) centre (34, 35) ccw
  line L1 (34, 40) -> (59, 40)
  arc A6 (64, 35) -> (59, 40) centre (59, 35) ccw
  line L2 (64, 35) -> (64, -35)
  arc A7 (59, -40) -> (64, -35) centre (59, -35) ccw
  line L3 (59, -40) -> (34, -40)
  arc A8 (55.6519, 33) -> (59, 31.1) centre (59, 35) ccw
  line L4 (37.3481, 33) -> (55.6519, 33)
  arc A9 (34, 31.1) -> (37.3481, 33) centre (34, 35) ccw
  line L5 (34, 31.1) -> (34, 22)
  line L6 (59, 22) -> (34, 22)
  line L7 (59, 22) -> (59, 31.1)
  line L8 (59, -31.1) -> (59, -22)
  line L9 (34, -22) -> (59, -22)
  line L10 (34, -22) -> (34, -31.1)
  arc A10 (37.3481, -33) -> (34, -31.1) centre (34, -35) ccw
  line L11 (55.6519, -33) -> (37.3481, -33)
  arc A11 (59, -31.1) -> (55.6519, -33) centre (59, -35) ccw
  point P0 (0, 0)
hole "Agujero6" at (-34, -35, 2) at (-34, 35, 2) direction (0, 0, 1) diameter 3.2 end through all
sketch "Boceto25" plane through (0, 0, 3.9) normal (0, 0, 1) x (1, 0, 0)
  circle A0 centre (-34, -35) radius 1.6
  circle A1 centre (-34, 35) radius 1.6
  circle A2 centre (-59, 35) radius 1.6
  circle A3 centre (-59, -35) radius 1.6
  line L0 (23.6, 169.8) -> (23.6, 163.3)
  line L1 (23.6, 163.3) -> (17.1, 163.3)
  line L2 (17.1, 163.3) -> (17.1, 169.8)
  line L3 (17.1, 169.8) -> (23.6, 169.8)
  line L4 (81.3, 169.8) -> (81.3, 163.3)
  line L5 (81.3, 163.3) -> (74.8, 163.3)
  line L6 (74.8, 163.3) -> (74.8, 169.8)
  line L7 (74.8, 169.8) -> (81.3, 169.8)
  line L8 (-1, 163.3) -> (-1, 169.8)
  line L9 (-1, 169.8) -> (5.5, 169.8)
  line L10 (5.5, 169.8) -> (5.5, 163.3)
  line L11 (5.5, 163.3) -> (-1, 163.3)
  line L12 (41.7, 169.8) -> (41.7, 163.3)
  line L13 (41.7, 163.3) -> (35.2, 163.3)
  line L14 (35.2, 163.3) -> (35.2, 169.8)
  line L15 (35.2, 169.8) -> (41.7, 169.8)
  line L16 (59.8, 169.8) -> (59.8, 163.3)
  line L17 (59.8, 163.3) -> (53.3, 163.3)
  line L18 (53.3, 163.3) -> (53.3, 169.8)
  line L19 (53.3, 169.8) -> (59.8, 169.8)
  line L20 (-11.5, 175.8) -> (-11.5, 157.7)
  line L21 (-11.5, 157.7) -> (-19.5, 157.7)
  line L22 (-19.5, 157.7) -> (-19.5, 175.8)
  line L23 (-19.5, 175.8) -> (-11.5, 175.8)
  line L24 (-22.7, -52.4) -> (-22.7, -57.4)
  line L25 (-22.7, -57.4) -> (-5, -57.4)
  arc A4 (0, -62.4) -> (-5, -57.4) centre (-5, -62.4) ccw
  line L26 (0, -62.4) -> (0, -87.4)
  line L27 (0, -87.4) -> (1.1, -87.4)
  line L28 (1.1, -87.4) -> (1.1, -107.4)
  line L29 (1.1, -107.4) -> (0, -107.4)
  line L30 (0, -107.4) -> (0, -169.7804)
  arc A5 (-5, -174.7804) -> (0, -169.7804) centre (-5, -169.7804) ccw
  line L31 (-5, -174.7804) -> (-64.3756, -174.7804)
  line L32 (-64.3756, -174.7804) -> (-64.3756, -57.4)
  line L33 (-64.3756, -57.4) -> (-44.9, -57.4)
  line L34 (-44.9, -57.4) -> (-44.9, -52.4)
  line L35 (-44.9, -52.4) -> (-22.7, -52.4)
  circle A6 centre (111.9, 150.6) radius 1.5
  circle A7 centre (-100.65, 156.7) radius 1.5
  circle A8 centre (111.9, -156.3) radius 1.5
  circle A9 centre (-100.65, -148.3) radius 1.5
  circle A10 centre (-100.65, -156.7) radius 1.5
  circle A11 centre (111.9, -150.6) radius 1.5
  circle A12 centre (-100.65, 148.3) radius 1.5
  circle A13 centre (111.9, 156.3) radius 1.5
  line L36 (-97.75, 142) -> (-109, 142)
  line L37 (-109, 142) -> (-109, -142)
  line L38 (-109, -142) -> (-97.75, -142)
  line L39 (-97.75, -142) -> (-97.75, -145)
  line L40 (-97.75, -145) -> (-105.25, -145)
  line L41 (-105.25, -145) -> (-105.25, -160)
  line L42 (-105.25, -160) -> (-97.75, -160)
  line L43 (-97.75, -160) -> (-97.75, -180)
  line L44 (-97.75, -180) -> (109, -180)
  line L45 (109, -180) -> (109, -160)
  line L46 (109, -160) -> (115.3, -160)
  line L47 (115.3, -160) -> (115.3, -146.9)
  line L48 (115.3, -146.9) -> (109, -146.9)
  line L49 (109, -146.9) -> (109, 146.9)
  line L50 (109, 146.9) -> (115.3, 146.9)
  line L51 (115.3, 146.9) -> (115.3, 160)
  line L52 (115.3, 160) -> (109, 160)
  line L53 (109, 160) -> (109, 180)
  line L54 (109, 180) -> (-97.75, 180)
  line L55 (-97.75, 180) -> (-97.75, 160)
  line L56 (-97.75, 160) -> (-105.25, 160)
  line L57 (-105.25, 160) -> (-105.25, 145)
  line L58 (-105.25, 145) -> (-97.75, 145)
  line L59 (-97.75, 145) -> (-97.75, 142)
  line L60 (109, -180) -> (109, 180)
  line L61 (-22.7, -52.4) -> (-22.7, 157.7)
  line L62 (-22.7, 157.7) -> (-19.5, 157.7)
  line L63 (-19.5, 175.8) -> (-44.9, 175.8)
  line L64 (-97.75, -180) -> (109, -180)
  line L65 (9, -165) -> (94, -165)
  line L66 (-22.7, -57.4) -> (-22.7, 157.7)
  line L67 (-14.7, 142.7) -> (94, 142.7)
  line L68 (-44.9, -57.4) -> (-64.3756, -57.4)
  line L69 (-44.9, -57.4) -> (-22.7, -57.4)
  line L70 (-97.75, -180) -> (-97.75, -142)
  line L71 (-97.75, 142) -> (-97.75, 180)
  line L72 (9, -165) -> (9, -116.4)
  line L73 (9, -116.4) -> (9, -62.4)
  arc A14 (9, -62.4) -> (-5, -48.4) centre (-5, -62.4) ccw
  line L74 (-5, -48.4) -> (-14.7, -48.4)
  line L75 (-94, 127) -> (-82.75, 127)
  line L76 (-82.75, 127) -> (-82.75, 145)
  line L77 (-82.75, 145) -> (-82.75, 165)
  line L78 (94, -145) -> (94, -165)
  line L79 (-82.75, -165) -> (-82.75, -160)
  line L80 (-82.75, -160) -> (-82.75, -127)
  line L81 (-82.75, -127) -> (-94, -127)
  line L82 (9, -78.4) -> (9, -62.4)
  arc A15 (9, -62.4) -> (-5, -48.4) centre (-5, -62.4) ccw
  line L83 (-5, -48.4) -> (-14.7, -48.4)
  line L84 (-82.75, 48.4) -> (-53.9, 48.4)
  line L85 (-82.75, 142.7) -> (-82.75, 127)
  line L86 (-73.3756, -48.4) -> (-73.3756, -165)
  line L87 (-82.75, -48.4) -> (-73.3756, -48.4)
  line L88 (-44.9, 175.8) -> (-44.9, -52.4)
  line L89 (-82.75, 48.4) -> (-82.75, 15)
  line L90 (-82.75, -15) -> (-82.75, -48.4)
  line L91 (-14.7, 15) -> (94, 15)
  line L92 (-14.7, -15) -> (94, -15)
  line L93 (-82.75, -15) -> (-94, -15)
  line L94 (-94, -127) -> (-94, -15)
  line L95 (-94, 15) -> (-94, 127)
  line L96 (-82.75, -165) -> (-73.3756, -165)
  line L97 (-73.3756, -165) -> (-82.75, -165)
  line L98 (94, -165) -> (9, -165)
  line L99 (9, -165) -> (94, -165)
  line L100 (-82.75, 15) -> (-94, 15)
  line L101 (-14.7, -57.4) -> (-14.7, -15)
  line L102 (-14.7, 15) -> (-14.7, 142.7)
  line L103 (94, -15) -> (94, -145)
  line L104 (94, -165) -> (94, -15)
  line L105 (94, -165) -> (94, -15)
  line L106 (94, -165) -> (94, -15)
  line L107 (94, 15) -> (94, 142.7)
  line L108 (94, 15) -> (94, 142.7)
  line L109 (94, 15) -> (94, 142.7)
  line L110 (94, 142.7) -> (94, 15)
  line L111 (-53.9, 48.4) -> (-53.9, 165)
  line L112 (-82.75, 165) -> (-53.9, 165)
  point P0 (0, 0)
  dimension "d143" = 9
extrude "Extrusión17" cut sketch "Boceto25" against normal blind 10 contours L101 L92 L103 L78 L65 L72 L73 A14 L74 | L67 L107 L91 L102 | L75 L76 L77 L112 L111 L84 L89 L100 L95 | L79 L80 L81 L94 L93 L90 L87 L86 L96
sketch "Boceto26" plane through (0, 0, 3.9) normal (0, 0, 1) x (1, 0, 0)
  line L0 (0, -107.4) -> (0, -169.7804)
  line L1 (0, -169.7804) -> (5, -169.7804)
  line L2 (5, -169.7804) -> (5, -162.7804)
  line L3 (5, -162.7804) -> (0, -162.7804)
  circle A0 centre (5, -166.2804) radius 2
  circle A1 centre (5, -166.2804) radius 3.5
  arc A2 (0, -62.4) -> (-5, -57.4) centre (-5, -62.4) ccw
  line L4 (0, -62.4) -> (5, -62.4)
  line L5 (5, -62.4) -> (5, -69.4)
  line L6 (5, -69.4) -> (0, -69.4)
  line L7 (0, -62.4) -> (0, -87.4)
  circle A3 centre (5, -65.9) radius 3.5
  circle A4 centre (5, -65.9) radius 2
  line L8 (-64.3756, -62.4) -> (-5, -62.4)
  line L9 (-64.3756, -62.4) -> (-69.3756, -62.4)
  line L10 (-69.3756, -62.4) -> (-69.3756, -69.4)
  line L11 (-69.3756, -69.4) -> (-63.3756, -69.4)
  line L12 (-64.3756, -62.4) -> (-64.3756, -169.7804)
  line L13 (-64.3756, -169.7804) -> (-69.3756, -169.7804)
  line L14 (-69.3756, -169.7804) -> (-69.3756, -163.3004)
  line L15 (-69.3756, -163.3004) -> (-64.3756, -163.3004)
  line L16 (-64.3756, -163.3004) -> (-64.3756, -169.7804)
  circle A5 centre (-69.3756, -65.9) radius 3.5
  circle A6 centre (-69.3756, -65.9) radius 2
  circle A7 centre (-69.3756, -166.5404) radius 2
  circle A8 centre (-69.3756, -166.5404) radius 3.24
  line L17 (-64.3756, -163.3) -> (-64.3756, -154.3)
  point P0 (0, 0)
  point P1 (-69.3756, -163.3004)
  point P2 (5, -169.7804)
  point P3 (5, -162.7804)
  point P4 (-64.3756, -69.4)
  dimension "d155" = 5
  dimension "d156" = 7
  dimension "d157" = 4
  dimension "d158" = 5
  dimension "d159" = 7
  dimension "d160" = 4
  dimension "d161" = 5
  dimension "d162" = 7
  dimension "d163" = 5
  dimension "d164" = 6.48
  dimension "d165" = 4
  dimension "d166" = 4
extrude "Extrusión18" add sketch "Boceto26" along normal blind 3.5 contours L3 A1 L1 L0 | A1 L2 A0 | L2 A0 A1 | L4 A3 L6 L7 | A3 L5 A4 | L5 A4 A3 | L12 L11 A5 L9 | L12 L13 A8 L15 | A5 L10 A6 | L10 A6 A5 | A8 L14 A7 | L14 A7 A8
fillet "Empalme4" radius 5 7 edges at (0, -169.7804, 5.65) (0, -162.7804, 5.65) (0, -62.4, 5.65) (0, -69.4, 5.65) (-64.3756, -169.7804, 5.65) (-64.3756, -62.4, 5.65) (-64.3756, -69.4, 5.65)
sketch "Boceto27" plane through (0, 0, 0) normal (0, 0, -1) x (-1, 0, 0)
  circle A0 centre (-111.9, -156.3) radius 1.2
  circle A1 centre (-111.9, -150.6) radius 1.2
  circle A2 centre (-111.9, 156.3) radius 1.2
  circle A3 centre (-111.9, 150.6) radius 1.2
  circle A4 centre (100.65, -156.7) radius 1.65
  circle A5 centre (100.65, -148.3) radius 1.65
  circle A6 centre (100.65, 156.7) radius 1.65
  circle A7 centre (100.65, 148.3) radius 1.65
  line L0 (-115.3, -160) -> (-109, -160)
  line L1 (-109, -160) -> (-109, -180)
  line L2 (-109, -180) -> (97.75, -180)
  line L3 (97.75, -180) -> (97.75, -160)
  line L4 (97.75, -160) -> (105.25, -160)
  line L5 (105.25, -160) -> (105.25, -145)
  line L6 (105.25, -145) -> (97.75, -145)
  line L7 (97.75, -145) -> (97.75, -142)
  line L8 (97.75, -142) -> (109, -142)
  line L9 (109, -142) -> (109, 142)
  line L10 (109, 142) -> (97.75, 142)
  line L11 (97.75, 142) -> (97.75, 145)
  line L12 (97.75, 145) -> (105.25, 145)
  line L13 (105.25, 145) -> (105.25, 160)
  line L14 (105.25, 160) -> (97.75, 160)
  line L15 (97.75, 160) -> (97.75, 180)
  line L16 (97.75, 180) -> (-109, 180)
  line L17 (-109, 180) -> (-109, 160)
  line L18 (-109, 160) -> (-115.3, 160)
  line L19 (-115.3, 160) -> (-115.3, 146.9)
  line L20 (-115.3, 146.9) -> (-109, 146.9)
  line L21 (-109, 146.9) -> (-109, -146.9)
  line L22 (-109, -146.9) -> (-115.3, -146.9)
  line L23 (-115.3, -146.9) -> (-115.3, -160)
  line L24 (64.3756, -57.4) -> (64.3756, -74.4)
  arc A8 (64.3756, -57.4) -> (69.3756, -62.4) centre (69.3756, -57.4) ccw
  arc A9 (69.3756, -69.4) -> (69.3756, -62.4) centre (69.3756, -65.9) ccw
  arc A10 (69.3756, -69.4) -> (64.3756, -74.4) centre (69.3756, -74.4) ccw
  circle A11 centre (69.3756, -65.9) radius 2
  line L25 (64.3756, -163.3004) -> (64.3756, -174.7804)
  line L26 (64.3756, -163.3004) -> (69.3756, -163.3004)
  arc A12 (69.3756, -169.7804) -> (69.3756, -163.3004) centre (69.3756, -166.5404) ccw
  arc A13 (69.3756, -169.7804) -> (64.3756, -174.7804) centre (69.3756, -174.7804) ccw
  circle A14 centre (69.3756, -166.5404) radius 2
  line L27 (0, -169.7804) -> (0, -157.7804)
  arc A15 (0, -169.7804) -> (0.6699, -172.2804) centre (5, -169.7804) ccw
  arc A16 (0.6699, -172.2804) -> (-3.6603, -169.7804) centre (-3.6603, -174.7804) ccw
  line L28 (-3.6603, -169.7804) -> (-5, -169.7804)
  arc A17 (-5, -162.7804) -> (-5, -169.7804) centre (-5, -166.2804) ccw
  arc A18 (-5, -162.7804) -> (0, -157.7804) centre (-5, -157.7804) ccw
  circle A19 centre (-5, -166.2804) radius 2
  line L29 (0, -74.4) -> (0, -62.4)
  arc A20 (0, -74.4) -> (-5, -69.4) centre (-5, -74.4) ccw
  arc A21 (-5, -62.4) -> (-5, -69.4) centre (-5, -65.9) ccw
  line L30 (-5, -62.4) -> (-3.6603, -62.4)
  arc A22 (-3.6603, -62.4) -> (0.6699, -59.9) centre (-3.6603, -57.4) ccw
  arc A23 (0.6699, -59.9) -> (0, -62.4) centre (5, -62.4) ccw
  circle A24 centre (-5, -65.9) radius 2
  point P0 (0, 0)
hole "Agujero7" at (-69.3756, -65.9, 0) at (-69.3756, -166.5404, 0) at (5, -166.2804, 0) at (5, -65.9, 0) direction (0, 0, 1) diameter 3 depth 3.9 countersink diameter 6 countersink angle 90
sketch "Boceto29" plane through (0, 0, 0) normal (0, 0, -1) x (-1, 0, 0)
  line L0 (14.7, 15) -> (-94, 15)
  line L1 (-94, -15) -> (14.7, -15)
  line L2 (14.7, -15) -> (14.7, 15)
  line L3 (14.7, 15) -> (-94, 15)
  line L4 (-94, 15) -> (-94, -15)
  line L5 (8.7, -9) -> (-88, -9)
  line L6 (-88, -9) -> (-88, 9)
  line L7 (-88, 9) -> (8.7, 9)
  line L8 (8.7, 9) -> (8.7, -9)
  circle A0 centre (8.7, -9) radius 1.5
  circle A1 centre (-88, -9) radius 1.5
  circle A2 centre (-88, 9) radius 1.5
  circle A3 centre (8.7, 9) radius 1.5
  circle A4 centre (-39.65, 9) radius 1.5
  circle A5 centre (-39.65, -9) radius 1.5
  point P0 (0, 0)
  dimension "d183" = 6
  dimension "d184" = 3
  dimension "d185" = 3
  dimension "d186" = 3
  dimension "d187" = 3
  dimension "d188" = 3
  dimension "d189" = 3
hole "Agujero8" at (-8.7, -9, 0) at (-8.7, 9, 0) at (39.65, 9, 0) at (39.65, -9, 0) at (88, -9, 0) at (88, 9, 0) direction (0, 0, 1) diameter 3 depth 3.9 countersink diameter 6 countersink angle 90
split "Dividir6" plane through (0, 0, 0) removes the side toward (0, -1, 0)
sketch "Boceto30" plane through (0, 0, 0) normal (0, 0, -1) x (-1, 0, 0)
  line L0 (-94, 15) -> (-94, 142.7)
  line L1 (-94, 142.7) -> (14.7, 142.7)
  line L2 (14.7, 142.7) -> (14.7, 150.7)
  line L3 (14.7, 150.7) -> (-94, 150.7)
  line L4 (-94, 150.7) -> (-94, 142.7)
  point P0 (0, 0)
  dimension "d197" = 108.7
  dimension "d198" = 8
extrude "Extrusión19" cut sketch "Boceto30" against normal blind 10
